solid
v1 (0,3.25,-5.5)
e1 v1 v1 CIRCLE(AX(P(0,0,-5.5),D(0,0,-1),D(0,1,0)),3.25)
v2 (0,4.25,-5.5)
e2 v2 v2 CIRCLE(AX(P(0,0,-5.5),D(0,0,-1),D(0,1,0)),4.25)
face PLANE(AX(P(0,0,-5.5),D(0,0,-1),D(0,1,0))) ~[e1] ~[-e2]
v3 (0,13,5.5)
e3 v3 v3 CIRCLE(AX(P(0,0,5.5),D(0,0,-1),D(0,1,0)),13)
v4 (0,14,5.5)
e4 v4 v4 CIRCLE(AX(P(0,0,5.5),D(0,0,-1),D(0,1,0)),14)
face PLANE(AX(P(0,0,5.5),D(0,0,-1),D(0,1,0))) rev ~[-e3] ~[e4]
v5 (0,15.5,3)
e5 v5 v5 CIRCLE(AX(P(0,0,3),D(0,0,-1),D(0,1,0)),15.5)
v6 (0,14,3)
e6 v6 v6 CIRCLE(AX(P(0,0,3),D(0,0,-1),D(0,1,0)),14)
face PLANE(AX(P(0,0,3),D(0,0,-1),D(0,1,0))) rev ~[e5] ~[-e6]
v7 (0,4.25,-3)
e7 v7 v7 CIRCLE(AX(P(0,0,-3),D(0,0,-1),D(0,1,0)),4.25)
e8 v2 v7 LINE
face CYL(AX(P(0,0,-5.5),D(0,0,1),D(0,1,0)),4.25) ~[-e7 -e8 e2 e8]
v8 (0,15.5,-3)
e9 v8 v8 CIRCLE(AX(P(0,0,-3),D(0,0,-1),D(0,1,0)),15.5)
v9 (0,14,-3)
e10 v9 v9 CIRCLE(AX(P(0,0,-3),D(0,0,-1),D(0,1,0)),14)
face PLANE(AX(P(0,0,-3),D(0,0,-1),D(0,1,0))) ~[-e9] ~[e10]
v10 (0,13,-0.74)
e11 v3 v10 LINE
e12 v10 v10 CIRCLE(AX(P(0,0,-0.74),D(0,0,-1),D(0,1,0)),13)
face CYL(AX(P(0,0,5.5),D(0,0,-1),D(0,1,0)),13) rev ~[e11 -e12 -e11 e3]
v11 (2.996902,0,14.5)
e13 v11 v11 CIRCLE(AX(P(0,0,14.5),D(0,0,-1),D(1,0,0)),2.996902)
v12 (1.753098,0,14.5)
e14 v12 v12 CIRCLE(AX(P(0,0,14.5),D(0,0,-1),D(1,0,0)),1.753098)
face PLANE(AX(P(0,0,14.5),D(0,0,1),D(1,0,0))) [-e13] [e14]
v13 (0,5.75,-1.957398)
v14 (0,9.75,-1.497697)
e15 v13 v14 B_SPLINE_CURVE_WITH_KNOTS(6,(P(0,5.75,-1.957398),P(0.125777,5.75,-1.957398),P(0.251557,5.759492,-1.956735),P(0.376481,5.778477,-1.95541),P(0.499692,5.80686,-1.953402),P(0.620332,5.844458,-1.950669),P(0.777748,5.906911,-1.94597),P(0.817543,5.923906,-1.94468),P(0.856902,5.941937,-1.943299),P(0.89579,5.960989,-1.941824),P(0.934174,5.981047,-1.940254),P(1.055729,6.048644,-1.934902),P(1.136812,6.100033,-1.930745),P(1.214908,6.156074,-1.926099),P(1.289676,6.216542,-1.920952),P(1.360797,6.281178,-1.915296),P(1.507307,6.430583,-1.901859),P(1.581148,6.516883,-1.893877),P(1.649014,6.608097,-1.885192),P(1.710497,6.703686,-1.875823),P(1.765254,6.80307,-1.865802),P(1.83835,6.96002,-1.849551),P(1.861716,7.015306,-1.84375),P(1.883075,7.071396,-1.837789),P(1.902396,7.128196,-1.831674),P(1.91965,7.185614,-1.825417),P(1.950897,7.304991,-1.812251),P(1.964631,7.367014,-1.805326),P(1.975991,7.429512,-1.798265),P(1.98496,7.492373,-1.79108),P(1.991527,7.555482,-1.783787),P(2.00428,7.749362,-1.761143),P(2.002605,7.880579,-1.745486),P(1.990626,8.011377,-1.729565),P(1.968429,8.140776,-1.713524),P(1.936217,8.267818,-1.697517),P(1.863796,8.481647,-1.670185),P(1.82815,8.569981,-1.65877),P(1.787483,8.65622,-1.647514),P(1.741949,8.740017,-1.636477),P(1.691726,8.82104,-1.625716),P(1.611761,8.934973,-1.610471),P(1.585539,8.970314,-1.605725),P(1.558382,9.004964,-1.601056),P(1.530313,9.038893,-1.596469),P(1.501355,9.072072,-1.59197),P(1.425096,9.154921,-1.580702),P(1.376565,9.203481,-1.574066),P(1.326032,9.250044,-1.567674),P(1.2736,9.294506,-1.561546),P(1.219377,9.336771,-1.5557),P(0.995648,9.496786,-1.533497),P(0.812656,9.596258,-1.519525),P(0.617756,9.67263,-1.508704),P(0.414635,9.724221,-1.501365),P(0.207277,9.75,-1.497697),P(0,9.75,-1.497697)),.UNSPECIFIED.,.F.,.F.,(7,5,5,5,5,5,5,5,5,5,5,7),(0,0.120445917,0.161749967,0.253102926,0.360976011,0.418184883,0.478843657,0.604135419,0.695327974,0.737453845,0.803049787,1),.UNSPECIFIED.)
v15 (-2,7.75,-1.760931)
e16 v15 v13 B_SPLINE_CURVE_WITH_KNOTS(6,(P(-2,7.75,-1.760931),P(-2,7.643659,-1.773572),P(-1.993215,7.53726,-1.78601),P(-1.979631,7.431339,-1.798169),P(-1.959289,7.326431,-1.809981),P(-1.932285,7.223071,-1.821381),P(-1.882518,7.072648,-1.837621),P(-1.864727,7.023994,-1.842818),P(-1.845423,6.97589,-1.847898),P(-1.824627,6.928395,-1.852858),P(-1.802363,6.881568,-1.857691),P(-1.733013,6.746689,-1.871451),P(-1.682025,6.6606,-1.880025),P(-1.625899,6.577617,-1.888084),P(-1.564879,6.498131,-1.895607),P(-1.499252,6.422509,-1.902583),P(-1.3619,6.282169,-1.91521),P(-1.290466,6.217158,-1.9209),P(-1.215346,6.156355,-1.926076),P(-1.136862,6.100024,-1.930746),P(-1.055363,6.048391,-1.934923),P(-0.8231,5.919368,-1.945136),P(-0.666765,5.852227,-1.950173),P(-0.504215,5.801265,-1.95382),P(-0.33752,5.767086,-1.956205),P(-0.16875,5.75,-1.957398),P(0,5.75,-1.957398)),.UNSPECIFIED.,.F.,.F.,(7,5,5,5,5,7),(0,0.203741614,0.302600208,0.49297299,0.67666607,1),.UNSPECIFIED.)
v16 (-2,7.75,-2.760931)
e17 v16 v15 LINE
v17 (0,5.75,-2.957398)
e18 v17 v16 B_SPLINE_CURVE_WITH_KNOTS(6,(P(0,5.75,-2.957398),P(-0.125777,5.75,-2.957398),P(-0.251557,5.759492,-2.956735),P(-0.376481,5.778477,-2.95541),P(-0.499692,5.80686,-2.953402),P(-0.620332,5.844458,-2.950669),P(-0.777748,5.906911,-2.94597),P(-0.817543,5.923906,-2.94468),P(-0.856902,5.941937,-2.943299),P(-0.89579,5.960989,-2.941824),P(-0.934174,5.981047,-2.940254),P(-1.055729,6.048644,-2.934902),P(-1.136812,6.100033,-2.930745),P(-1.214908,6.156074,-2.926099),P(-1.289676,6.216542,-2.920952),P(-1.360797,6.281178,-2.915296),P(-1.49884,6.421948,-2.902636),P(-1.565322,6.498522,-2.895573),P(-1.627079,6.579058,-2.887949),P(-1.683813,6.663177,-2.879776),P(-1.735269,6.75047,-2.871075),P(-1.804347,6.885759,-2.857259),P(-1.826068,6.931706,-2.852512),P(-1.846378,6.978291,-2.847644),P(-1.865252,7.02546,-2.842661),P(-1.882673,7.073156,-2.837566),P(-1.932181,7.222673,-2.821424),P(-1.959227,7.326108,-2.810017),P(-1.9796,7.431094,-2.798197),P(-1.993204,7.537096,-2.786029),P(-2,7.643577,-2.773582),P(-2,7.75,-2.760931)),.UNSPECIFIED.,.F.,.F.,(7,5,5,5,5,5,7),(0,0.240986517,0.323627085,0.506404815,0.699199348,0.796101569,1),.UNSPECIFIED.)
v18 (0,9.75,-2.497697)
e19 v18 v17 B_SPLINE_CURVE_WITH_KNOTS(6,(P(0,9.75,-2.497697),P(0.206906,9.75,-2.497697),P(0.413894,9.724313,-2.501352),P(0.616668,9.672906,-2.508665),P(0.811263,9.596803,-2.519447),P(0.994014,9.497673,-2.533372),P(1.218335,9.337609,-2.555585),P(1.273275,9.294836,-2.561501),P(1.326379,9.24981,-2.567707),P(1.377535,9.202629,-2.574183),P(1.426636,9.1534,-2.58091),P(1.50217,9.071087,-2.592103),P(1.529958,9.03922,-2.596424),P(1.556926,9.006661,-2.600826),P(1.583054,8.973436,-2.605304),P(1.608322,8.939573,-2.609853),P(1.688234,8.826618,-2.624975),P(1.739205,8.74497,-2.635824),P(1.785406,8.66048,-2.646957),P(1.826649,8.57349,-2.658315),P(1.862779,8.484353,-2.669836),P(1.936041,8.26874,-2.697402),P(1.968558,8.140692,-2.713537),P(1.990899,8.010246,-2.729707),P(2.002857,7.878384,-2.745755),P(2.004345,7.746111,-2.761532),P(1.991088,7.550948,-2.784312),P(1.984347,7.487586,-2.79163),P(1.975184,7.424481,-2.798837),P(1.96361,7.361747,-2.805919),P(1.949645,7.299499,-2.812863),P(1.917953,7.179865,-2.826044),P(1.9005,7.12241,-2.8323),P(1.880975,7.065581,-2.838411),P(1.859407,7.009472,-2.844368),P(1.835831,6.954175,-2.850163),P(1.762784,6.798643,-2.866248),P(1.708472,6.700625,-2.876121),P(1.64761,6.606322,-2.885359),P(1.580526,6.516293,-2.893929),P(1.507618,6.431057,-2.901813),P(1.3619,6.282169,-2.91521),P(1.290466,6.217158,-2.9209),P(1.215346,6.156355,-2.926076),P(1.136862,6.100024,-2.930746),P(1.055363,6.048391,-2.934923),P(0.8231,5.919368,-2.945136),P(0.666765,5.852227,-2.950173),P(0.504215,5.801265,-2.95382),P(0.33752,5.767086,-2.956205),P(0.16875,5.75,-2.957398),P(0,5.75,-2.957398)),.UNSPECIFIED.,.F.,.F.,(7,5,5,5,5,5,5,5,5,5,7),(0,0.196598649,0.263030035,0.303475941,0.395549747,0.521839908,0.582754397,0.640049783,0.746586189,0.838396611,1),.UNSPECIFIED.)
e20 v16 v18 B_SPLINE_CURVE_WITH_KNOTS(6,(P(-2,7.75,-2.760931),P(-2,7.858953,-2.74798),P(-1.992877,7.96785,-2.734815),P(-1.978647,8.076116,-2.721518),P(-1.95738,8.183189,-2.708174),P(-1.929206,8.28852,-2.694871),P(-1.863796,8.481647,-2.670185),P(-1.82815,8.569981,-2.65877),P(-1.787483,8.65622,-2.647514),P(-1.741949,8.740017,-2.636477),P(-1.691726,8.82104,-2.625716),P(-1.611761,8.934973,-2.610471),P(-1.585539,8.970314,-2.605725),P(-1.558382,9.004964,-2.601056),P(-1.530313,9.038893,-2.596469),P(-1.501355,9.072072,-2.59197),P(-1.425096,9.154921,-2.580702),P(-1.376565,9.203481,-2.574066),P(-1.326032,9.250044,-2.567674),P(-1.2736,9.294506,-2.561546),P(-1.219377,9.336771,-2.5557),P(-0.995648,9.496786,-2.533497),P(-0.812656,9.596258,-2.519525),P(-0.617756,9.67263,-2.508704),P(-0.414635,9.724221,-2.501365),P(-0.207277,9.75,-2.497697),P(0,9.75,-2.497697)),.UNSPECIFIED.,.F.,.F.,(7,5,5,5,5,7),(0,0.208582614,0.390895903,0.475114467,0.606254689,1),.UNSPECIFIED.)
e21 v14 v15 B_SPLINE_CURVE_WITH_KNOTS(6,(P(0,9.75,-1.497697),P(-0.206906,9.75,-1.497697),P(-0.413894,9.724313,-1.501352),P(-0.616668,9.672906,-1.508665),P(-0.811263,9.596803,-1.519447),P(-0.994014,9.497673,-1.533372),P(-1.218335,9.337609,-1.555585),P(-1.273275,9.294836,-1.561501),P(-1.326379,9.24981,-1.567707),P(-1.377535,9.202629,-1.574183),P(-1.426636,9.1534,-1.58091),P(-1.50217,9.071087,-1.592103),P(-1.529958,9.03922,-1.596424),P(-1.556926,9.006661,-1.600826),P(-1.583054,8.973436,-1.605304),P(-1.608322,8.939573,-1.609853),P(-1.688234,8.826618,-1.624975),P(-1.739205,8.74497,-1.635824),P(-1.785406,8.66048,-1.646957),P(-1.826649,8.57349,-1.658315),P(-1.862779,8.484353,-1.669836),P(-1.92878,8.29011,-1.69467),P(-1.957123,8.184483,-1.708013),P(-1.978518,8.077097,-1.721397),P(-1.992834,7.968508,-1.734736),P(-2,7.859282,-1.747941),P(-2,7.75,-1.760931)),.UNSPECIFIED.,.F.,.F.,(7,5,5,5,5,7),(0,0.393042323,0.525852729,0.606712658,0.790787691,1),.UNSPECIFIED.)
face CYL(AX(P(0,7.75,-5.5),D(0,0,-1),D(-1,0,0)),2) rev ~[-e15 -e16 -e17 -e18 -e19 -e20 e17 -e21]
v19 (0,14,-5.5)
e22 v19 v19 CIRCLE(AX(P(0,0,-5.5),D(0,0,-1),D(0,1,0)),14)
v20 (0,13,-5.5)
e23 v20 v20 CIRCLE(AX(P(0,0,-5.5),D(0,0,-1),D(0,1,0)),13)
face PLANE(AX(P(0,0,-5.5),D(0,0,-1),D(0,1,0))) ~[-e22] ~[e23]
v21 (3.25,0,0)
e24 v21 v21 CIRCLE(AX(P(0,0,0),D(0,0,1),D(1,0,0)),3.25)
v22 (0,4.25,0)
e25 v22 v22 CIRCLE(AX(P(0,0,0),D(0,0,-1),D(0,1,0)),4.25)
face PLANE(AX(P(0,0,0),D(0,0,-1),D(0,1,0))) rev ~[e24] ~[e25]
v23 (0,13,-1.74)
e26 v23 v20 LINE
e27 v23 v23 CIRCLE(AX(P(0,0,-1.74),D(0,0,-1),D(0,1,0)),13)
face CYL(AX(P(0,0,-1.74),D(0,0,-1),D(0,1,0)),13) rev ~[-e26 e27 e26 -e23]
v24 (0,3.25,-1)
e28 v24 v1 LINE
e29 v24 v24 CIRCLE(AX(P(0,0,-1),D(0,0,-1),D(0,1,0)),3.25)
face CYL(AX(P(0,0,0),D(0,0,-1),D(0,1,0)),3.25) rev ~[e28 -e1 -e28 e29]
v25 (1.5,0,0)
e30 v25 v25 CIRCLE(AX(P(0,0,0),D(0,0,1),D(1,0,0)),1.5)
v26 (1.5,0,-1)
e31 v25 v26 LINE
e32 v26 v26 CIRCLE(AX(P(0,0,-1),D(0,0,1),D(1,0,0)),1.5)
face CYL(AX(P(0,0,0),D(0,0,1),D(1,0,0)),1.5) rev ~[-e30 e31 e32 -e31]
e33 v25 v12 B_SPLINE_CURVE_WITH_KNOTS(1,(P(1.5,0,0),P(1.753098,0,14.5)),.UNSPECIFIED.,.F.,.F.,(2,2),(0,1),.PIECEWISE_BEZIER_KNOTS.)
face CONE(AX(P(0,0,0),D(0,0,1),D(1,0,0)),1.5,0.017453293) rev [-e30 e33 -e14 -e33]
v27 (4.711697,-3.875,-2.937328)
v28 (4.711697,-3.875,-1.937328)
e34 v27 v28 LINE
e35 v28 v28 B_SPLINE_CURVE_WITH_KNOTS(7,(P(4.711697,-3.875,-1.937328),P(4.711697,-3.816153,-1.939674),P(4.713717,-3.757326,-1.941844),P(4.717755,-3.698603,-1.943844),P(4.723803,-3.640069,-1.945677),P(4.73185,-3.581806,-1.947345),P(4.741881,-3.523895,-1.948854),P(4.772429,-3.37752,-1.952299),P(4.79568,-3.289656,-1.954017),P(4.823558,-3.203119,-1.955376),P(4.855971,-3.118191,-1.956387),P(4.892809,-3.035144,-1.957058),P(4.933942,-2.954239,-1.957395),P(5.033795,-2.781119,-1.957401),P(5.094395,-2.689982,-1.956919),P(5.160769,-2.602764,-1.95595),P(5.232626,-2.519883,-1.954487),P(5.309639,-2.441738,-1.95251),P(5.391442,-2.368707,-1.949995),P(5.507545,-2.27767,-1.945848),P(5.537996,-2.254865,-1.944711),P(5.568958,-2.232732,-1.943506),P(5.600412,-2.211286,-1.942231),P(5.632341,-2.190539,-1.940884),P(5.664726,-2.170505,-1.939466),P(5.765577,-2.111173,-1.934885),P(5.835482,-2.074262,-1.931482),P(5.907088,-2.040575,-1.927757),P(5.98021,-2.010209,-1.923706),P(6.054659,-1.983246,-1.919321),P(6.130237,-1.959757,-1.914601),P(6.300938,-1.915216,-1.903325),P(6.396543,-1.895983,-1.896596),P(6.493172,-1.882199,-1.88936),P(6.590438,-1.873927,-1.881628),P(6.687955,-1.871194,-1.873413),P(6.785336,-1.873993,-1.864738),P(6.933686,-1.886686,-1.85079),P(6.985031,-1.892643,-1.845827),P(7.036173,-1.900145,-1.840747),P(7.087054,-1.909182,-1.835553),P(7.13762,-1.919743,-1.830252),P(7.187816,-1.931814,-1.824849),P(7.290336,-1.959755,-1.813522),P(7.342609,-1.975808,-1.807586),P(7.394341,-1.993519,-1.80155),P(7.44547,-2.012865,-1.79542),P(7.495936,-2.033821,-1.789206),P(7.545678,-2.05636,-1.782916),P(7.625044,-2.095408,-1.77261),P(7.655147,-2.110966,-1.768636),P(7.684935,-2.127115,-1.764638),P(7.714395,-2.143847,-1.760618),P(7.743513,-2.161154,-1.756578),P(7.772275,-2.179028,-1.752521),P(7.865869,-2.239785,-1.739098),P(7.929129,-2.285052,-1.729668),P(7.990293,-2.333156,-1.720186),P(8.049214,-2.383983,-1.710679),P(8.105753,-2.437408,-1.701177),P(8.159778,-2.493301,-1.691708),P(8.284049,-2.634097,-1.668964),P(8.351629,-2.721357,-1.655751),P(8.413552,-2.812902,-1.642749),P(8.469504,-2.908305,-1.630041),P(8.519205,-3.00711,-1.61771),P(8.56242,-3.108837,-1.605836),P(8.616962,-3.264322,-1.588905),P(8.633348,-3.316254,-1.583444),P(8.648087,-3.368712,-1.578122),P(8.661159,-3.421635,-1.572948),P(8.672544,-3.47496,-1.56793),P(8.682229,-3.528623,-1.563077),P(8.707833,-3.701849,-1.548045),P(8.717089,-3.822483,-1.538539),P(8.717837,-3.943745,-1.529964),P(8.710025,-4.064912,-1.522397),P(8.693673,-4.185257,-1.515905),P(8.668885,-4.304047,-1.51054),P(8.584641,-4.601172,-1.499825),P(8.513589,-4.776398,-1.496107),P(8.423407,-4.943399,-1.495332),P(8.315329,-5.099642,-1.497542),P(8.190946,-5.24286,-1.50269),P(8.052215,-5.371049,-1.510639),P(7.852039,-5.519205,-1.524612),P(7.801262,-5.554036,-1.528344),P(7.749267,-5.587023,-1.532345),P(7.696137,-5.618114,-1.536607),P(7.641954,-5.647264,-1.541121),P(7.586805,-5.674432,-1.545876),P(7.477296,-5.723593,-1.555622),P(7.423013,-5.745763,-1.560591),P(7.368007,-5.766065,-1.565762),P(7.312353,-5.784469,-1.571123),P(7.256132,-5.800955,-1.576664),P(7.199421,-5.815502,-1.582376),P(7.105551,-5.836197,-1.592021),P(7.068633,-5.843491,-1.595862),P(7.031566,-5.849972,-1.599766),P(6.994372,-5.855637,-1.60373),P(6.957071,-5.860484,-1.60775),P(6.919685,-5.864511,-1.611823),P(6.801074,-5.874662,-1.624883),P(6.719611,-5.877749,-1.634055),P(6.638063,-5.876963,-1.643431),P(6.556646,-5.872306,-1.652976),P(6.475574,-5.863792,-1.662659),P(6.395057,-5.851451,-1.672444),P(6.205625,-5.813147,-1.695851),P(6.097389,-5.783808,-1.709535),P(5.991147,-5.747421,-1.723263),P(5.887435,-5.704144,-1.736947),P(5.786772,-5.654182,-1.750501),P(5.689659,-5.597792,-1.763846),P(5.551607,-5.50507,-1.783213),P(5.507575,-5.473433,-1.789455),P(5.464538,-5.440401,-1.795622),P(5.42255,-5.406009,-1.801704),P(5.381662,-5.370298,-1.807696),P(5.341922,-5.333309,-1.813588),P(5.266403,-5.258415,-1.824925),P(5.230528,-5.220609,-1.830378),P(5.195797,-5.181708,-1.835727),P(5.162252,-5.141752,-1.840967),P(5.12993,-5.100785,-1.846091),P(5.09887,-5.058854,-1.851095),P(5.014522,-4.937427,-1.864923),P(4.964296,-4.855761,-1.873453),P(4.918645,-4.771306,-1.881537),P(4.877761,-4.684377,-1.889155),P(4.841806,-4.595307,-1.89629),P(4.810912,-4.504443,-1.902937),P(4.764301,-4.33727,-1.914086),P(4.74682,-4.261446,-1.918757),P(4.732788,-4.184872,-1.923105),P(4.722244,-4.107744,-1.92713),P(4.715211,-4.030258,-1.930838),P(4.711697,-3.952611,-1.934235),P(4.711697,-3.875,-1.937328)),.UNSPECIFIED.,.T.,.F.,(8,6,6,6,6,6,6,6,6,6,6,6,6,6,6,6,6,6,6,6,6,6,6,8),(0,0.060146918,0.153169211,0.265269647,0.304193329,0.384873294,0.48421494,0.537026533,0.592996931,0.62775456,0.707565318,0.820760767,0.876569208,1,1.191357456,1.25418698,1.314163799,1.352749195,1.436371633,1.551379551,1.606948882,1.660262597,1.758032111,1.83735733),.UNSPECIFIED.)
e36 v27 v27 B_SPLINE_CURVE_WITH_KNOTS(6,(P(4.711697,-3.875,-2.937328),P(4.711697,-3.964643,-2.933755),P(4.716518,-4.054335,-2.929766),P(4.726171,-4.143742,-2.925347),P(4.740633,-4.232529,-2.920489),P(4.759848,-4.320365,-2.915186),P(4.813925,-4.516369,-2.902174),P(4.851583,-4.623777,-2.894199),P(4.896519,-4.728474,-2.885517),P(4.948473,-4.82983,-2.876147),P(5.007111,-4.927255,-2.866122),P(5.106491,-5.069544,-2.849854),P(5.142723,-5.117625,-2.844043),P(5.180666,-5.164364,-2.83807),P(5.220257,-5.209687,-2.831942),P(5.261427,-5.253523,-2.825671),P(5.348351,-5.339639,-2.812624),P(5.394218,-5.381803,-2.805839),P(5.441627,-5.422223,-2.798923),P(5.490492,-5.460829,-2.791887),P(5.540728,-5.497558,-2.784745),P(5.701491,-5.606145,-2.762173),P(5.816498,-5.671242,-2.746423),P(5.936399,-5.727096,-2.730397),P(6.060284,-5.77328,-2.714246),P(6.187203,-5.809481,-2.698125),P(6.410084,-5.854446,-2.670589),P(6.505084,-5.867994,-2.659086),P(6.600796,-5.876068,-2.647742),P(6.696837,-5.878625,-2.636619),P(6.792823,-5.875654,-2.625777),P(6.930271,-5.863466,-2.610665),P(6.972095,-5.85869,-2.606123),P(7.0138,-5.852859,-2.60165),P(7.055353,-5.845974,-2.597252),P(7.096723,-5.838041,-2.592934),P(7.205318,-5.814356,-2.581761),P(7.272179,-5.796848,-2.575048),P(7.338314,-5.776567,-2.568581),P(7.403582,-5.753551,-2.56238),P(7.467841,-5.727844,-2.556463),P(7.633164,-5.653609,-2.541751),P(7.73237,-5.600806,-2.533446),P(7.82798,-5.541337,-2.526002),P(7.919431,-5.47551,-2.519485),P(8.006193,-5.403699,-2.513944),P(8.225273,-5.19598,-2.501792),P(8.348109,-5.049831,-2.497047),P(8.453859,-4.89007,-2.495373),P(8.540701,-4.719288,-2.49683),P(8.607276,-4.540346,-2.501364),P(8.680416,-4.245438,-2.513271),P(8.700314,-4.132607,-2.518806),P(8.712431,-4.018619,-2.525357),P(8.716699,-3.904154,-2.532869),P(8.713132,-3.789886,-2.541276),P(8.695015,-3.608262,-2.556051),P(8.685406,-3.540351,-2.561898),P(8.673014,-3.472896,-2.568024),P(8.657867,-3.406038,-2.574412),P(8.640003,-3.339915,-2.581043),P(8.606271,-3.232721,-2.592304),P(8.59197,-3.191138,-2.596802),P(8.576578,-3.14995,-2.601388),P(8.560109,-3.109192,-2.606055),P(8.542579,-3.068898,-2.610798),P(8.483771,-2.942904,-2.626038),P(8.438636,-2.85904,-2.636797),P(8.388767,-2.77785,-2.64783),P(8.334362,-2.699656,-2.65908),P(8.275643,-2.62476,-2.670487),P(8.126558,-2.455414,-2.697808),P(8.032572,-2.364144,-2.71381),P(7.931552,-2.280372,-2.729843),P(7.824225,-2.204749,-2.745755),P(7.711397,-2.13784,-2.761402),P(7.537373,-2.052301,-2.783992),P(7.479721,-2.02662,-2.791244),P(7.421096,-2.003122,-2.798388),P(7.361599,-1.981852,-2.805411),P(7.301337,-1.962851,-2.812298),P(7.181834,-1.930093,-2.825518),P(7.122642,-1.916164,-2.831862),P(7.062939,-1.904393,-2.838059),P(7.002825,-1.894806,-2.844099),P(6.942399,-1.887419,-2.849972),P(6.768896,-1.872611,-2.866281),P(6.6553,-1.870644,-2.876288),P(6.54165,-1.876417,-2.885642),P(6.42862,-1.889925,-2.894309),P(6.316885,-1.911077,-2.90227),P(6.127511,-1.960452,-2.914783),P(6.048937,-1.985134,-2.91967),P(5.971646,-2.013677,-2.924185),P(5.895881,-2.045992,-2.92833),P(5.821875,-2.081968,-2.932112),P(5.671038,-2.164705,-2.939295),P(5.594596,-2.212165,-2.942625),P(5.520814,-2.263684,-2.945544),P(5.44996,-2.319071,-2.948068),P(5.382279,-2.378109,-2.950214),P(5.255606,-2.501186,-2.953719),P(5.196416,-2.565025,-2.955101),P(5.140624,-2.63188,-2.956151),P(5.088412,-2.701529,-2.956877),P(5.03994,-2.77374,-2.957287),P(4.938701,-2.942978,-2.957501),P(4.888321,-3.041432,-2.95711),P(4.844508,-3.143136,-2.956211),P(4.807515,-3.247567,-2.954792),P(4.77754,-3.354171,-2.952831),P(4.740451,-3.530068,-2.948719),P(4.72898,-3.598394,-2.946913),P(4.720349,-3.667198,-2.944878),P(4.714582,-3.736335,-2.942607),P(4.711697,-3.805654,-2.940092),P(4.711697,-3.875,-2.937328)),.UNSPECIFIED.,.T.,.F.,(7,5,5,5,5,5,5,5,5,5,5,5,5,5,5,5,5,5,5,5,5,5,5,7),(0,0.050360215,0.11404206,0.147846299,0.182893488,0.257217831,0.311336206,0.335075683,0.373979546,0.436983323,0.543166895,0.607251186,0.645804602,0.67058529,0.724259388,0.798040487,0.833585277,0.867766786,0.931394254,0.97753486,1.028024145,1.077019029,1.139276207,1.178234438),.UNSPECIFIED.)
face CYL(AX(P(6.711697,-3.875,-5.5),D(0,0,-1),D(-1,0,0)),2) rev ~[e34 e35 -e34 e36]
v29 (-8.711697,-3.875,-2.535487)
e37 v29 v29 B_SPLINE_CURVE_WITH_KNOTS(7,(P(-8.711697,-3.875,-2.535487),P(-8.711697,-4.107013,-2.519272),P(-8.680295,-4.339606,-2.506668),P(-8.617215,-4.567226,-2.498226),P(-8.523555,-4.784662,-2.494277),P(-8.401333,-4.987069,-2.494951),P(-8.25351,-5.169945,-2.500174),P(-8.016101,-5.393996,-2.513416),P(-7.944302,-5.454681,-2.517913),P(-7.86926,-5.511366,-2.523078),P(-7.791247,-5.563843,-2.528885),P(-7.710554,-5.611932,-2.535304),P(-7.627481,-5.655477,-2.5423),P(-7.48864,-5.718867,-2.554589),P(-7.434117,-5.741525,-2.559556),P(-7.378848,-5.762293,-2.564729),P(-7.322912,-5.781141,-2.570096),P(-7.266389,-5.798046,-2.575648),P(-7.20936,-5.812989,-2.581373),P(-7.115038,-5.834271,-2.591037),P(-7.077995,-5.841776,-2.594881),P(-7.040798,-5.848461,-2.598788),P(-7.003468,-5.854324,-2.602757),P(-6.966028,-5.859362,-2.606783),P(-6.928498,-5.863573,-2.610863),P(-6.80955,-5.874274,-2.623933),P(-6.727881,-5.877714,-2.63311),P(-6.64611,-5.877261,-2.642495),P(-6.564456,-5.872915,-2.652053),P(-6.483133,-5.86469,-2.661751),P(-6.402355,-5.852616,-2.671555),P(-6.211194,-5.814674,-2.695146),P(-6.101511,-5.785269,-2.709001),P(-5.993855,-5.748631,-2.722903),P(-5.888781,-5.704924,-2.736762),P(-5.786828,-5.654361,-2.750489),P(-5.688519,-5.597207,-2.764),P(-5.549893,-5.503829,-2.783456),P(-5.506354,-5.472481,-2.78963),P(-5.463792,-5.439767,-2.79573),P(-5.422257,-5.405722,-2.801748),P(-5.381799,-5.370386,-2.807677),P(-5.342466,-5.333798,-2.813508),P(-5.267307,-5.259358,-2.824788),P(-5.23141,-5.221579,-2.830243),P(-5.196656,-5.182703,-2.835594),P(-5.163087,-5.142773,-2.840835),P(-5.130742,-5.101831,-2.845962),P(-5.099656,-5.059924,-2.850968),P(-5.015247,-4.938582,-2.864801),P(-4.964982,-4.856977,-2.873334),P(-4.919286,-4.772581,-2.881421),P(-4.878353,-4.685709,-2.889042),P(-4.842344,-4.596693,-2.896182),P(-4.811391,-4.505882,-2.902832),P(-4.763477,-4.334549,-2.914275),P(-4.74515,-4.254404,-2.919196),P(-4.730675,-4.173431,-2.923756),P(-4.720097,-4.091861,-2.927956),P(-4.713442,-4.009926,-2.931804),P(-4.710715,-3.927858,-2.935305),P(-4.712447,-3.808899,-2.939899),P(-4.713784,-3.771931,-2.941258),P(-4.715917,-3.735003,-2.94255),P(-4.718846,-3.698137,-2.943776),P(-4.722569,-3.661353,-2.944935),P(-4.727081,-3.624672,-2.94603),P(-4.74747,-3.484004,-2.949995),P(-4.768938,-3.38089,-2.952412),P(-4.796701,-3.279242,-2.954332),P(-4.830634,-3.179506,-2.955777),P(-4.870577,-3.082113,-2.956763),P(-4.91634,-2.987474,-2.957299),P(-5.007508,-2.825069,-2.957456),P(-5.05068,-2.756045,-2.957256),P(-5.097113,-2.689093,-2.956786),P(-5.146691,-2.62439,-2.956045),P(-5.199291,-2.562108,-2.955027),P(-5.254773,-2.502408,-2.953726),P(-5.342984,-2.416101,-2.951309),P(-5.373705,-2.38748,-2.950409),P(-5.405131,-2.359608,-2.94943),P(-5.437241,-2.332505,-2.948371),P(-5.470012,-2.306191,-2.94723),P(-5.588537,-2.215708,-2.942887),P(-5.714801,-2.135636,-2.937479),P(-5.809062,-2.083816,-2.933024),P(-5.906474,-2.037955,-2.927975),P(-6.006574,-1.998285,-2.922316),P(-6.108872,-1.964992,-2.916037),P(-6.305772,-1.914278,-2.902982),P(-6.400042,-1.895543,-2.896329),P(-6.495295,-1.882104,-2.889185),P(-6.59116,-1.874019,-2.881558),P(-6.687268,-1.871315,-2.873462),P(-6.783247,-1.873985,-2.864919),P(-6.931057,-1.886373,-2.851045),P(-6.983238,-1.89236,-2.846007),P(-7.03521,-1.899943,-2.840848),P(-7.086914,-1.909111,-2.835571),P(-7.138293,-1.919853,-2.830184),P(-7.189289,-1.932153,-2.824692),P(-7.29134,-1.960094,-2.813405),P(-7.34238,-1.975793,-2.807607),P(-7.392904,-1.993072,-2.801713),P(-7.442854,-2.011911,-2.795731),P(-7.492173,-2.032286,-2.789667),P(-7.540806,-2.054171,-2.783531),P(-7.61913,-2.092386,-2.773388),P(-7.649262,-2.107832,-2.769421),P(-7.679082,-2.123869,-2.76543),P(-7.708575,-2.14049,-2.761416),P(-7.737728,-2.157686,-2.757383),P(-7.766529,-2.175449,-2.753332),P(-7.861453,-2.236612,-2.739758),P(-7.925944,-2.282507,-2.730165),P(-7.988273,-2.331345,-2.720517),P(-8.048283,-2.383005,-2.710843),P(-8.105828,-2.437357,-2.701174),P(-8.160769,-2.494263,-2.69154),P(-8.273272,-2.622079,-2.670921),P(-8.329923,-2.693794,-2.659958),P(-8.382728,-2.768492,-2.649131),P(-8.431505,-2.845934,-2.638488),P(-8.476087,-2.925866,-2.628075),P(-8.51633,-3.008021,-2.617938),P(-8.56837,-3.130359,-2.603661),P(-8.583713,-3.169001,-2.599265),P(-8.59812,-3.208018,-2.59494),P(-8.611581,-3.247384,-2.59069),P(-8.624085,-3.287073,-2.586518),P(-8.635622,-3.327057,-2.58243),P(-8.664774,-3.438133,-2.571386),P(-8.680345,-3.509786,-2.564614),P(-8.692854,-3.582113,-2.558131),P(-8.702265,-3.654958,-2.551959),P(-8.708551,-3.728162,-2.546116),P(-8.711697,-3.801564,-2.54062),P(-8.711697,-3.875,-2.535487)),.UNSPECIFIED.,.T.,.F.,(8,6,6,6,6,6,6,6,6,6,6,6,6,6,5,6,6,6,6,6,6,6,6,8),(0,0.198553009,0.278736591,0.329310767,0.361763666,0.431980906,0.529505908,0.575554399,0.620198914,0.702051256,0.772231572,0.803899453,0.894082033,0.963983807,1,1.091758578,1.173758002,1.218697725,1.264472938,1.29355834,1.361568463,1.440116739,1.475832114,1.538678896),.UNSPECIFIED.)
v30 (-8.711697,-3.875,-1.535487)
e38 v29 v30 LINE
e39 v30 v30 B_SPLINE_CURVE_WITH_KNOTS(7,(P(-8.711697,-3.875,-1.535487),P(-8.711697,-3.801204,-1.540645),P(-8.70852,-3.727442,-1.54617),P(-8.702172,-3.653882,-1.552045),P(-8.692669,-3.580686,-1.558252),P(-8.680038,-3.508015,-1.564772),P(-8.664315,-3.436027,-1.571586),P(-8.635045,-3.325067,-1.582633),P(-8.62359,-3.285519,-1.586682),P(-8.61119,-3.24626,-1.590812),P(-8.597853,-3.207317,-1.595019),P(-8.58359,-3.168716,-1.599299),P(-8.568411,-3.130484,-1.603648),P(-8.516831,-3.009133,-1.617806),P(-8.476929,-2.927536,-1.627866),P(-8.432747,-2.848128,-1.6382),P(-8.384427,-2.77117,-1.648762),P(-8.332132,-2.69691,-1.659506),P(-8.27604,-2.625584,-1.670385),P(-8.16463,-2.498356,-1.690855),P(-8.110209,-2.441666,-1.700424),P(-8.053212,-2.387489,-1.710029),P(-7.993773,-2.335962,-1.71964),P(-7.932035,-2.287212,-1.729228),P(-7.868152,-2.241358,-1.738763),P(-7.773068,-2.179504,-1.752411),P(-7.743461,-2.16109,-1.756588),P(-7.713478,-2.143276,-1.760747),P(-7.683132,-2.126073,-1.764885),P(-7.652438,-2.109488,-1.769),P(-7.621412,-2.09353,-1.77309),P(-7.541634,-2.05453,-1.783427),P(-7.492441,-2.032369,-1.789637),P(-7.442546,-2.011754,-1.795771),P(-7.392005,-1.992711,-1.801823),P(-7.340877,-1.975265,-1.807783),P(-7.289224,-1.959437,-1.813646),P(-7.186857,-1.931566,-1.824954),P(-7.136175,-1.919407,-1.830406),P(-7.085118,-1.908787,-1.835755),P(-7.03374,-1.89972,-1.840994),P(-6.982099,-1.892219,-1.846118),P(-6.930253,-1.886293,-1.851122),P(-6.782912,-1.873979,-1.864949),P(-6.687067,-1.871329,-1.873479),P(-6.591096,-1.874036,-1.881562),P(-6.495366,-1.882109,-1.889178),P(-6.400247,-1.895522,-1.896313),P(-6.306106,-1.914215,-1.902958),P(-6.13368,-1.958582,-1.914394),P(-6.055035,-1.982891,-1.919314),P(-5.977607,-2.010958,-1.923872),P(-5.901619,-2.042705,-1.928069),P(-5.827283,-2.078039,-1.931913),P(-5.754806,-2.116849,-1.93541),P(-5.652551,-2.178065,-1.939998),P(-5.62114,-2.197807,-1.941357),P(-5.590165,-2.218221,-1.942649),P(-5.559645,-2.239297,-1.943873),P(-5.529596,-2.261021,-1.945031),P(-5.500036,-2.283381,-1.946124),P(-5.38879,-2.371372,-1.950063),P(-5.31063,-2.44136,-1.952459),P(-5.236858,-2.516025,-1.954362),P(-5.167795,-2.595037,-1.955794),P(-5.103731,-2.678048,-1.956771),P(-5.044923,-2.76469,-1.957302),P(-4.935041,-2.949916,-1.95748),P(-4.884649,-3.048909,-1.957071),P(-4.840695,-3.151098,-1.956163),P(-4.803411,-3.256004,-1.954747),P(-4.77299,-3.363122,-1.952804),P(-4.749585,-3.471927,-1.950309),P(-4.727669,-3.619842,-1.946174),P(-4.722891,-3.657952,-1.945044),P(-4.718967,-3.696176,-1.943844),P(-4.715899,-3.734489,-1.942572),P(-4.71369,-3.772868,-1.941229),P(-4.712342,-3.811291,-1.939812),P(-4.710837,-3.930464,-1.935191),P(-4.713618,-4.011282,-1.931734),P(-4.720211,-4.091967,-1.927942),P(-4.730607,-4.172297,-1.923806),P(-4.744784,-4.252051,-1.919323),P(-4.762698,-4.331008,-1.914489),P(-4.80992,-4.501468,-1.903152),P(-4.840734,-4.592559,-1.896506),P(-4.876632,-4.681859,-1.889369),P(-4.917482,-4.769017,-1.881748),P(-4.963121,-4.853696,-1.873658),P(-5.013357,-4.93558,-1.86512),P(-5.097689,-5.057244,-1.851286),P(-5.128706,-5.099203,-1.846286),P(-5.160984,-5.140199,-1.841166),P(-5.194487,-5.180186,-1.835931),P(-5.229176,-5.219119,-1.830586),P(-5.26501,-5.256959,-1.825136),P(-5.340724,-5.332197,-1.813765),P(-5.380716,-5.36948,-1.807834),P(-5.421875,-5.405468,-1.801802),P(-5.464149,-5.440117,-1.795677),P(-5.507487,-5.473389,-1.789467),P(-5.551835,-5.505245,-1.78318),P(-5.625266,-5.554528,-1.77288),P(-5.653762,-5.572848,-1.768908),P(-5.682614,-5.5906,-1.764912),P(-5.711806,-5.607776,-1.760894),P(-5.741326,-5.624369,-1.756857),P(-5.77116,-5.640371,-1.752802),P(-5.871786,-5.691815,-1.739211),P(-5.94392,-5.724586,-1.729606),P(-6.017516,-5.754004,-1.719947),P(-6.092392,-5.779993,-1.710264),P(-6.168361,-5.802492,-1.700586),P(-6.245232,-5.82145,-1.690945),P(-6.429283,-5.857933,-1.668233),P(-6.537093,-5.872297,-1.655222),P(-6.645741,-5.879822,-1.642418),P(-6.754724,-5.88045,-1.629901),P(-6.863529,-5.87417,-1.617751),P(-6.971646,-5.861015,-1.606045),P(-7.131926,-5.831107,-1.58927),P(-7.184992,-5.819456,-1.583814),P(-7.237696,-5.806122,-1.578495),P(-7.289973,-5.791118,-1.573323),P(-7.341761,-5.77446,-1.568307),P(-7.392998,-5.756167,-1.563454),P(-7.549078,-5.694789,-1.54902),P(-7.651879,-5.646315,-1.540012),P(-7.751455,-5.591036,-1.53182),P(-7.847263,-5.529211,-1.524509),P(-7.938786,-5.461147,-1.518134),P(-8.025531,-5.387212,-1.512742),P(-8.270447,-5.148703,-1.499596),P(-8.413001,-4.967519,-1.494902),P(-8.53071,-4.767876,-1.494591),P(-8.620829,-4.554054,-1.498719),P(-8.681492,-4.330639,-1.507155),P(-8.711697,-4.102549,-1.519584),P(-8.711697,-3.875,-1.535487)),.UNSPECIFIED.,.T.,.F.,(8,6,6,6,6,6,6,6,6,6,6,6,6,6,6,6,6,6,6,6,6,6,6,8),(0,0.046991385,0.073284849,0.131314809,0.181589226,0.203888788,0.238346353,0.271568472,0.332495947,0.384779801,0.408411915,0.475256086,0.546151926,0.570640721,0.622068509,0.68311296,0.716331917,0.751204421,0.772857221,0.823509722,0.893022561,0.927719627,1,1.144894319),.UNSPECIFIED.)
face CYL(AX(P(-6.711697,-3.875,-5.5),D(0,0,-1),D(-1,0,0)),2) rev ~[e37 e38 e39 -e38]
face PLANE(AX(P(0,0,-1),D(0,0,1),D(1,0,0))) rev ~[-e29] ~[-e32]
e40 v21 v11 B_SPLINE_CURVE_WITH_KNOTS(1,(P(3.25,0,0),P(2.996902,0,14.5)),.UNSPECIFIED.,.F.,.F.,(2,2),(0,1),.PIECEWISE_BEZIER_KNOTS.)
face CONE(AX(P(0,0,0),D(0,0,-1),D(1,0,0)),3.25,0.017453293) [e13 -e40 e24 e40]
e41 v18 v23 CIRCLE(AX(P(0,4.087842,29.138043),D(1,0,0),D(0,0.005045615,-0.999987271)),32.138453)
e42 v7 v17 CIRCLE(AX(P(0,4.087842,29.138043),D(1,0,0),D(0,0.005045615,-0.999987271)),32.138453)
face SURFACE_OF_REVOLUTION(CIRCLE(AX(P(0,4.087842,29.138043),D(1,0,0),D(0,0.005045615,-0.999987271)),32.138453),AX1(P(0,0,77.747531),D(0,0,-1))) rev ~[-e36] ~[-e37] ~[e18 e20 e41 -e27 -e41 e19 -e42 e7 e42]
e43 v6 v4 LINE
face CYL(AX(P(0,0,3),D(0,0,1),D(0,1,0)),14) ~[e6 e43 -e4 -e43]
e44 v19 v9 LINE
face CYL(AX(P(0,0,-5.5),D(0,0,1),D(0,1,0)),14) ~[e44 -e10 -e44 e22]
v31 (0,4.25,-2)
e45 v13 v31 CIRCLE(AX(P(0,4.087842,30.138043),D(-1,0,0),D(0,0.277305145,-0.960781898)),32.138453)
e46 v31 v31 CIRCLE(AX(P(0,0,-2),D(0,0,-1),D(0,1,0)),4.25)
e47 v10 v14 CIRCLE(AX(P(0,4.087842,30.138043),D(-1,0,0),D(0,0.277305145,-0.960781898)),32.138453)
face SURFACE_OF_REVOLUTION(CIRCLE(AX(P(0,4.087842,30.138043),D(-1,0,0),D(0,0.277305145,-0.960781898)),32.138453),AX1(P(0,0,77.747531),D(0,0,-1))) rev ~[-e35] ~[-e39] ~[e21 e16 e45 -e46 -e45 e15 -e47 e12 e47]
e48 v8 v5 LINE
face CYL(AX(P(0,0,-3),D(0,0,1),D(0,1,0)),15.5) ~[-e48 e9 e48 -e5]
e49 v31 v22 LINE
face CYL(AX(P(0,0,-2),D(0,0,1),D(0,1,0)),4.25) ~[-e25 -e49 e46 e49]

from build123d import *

# Parameters (mm, degrees)
SKETCH4_R                     = 3.25
SKETCH4_R_2                   = 1.5
BOSS_EXTRUDE1_DEPTH           = 14.5
BOSS_EXTRUDE1_TAPER           = 1
BOSS_EXTRUDE1_OTHER_WAY_DEPTH = 1
SKETCH5_R                     = 2
CUT_EXTRUDE1_DEPTH            = 14.5


with BuildPart() as part:
    # Sketch3 → Revolve1 (revolve)
    with BuildSketch(Plane(origin=(0, 0, 0), x_dir=(0, 0, -1), z_dir=(1, 0, 0))):
        with BuildLine():
            Line((-5.5, 13), (0.74, 13))
            ThreePointArc((0.74, 13), (1.672291774, 8.668530015), (2, 4.25))
            Line((2, 4.25), (0, 4.25))
            Line((0, 4.25), (0, 3.25))
            Line((0, 3.25), (5.5, 3.25))
            Line((5.5, 3.25), (5.5, 4.25))
            Line((5.5, 4.25), (3, 4.25))
            ThreePointArc((3, 4.25), (2.672291774, 8.668530015), (1.74, 13))
            Line((1.74, 13), (5.5, 13))
            Line((5.5, 13), (5.5, 14))
            Line((5.5, 14), (3, 14))
            Line((3, 14), (3, 15.5))
            Line((3, 15.5), (-3, 15.5))
            Line((-3, 15.5), (-3, 14))
            Line((-3, 14), (-5.5, 14))
            Line((-5.5, 14), (-5.5, 13))
        make_face()
    revolve(axis=Axis((0, 0, 77.747530796), (0, 0, -1)))

    # Sketch4 → Boss-Extrude1 (add)
    with BuildSketch(Plane.XY):
        Circle(SKETCH4_R)
        Circle(SKETCH4_R_2, mode=Mode.SUBTRACT)
    extrude(amount=BOSS_EXTRUDE1_DEPTH, taper=BOSS_EXTRUDE1_TAPER)

    # Sketch4 → Boss-Extrude1 other way (add)
    with BuildSketch(Plane.XY):
        Circle(SKETCH4_R)
        Circle(SKETCH4_R_2, mode=Mode.SUBTRACT)
    extrude(amount=-BOSS_EXTRUDE1_OTHER_WAY_DEPTH)

    # Sketch5 → Cut-Extrude1 (cut)
    with BuildSketch(Plane(origin=(0, 0, -5.5), x_dir=(-1, 0, 0), z_dir=(0, 0, -1))):
        with Locations((0, 7.75)):
            Circle(SKETCH5_R)
        with Locations((6.711696879, -3.875)):
            Circle(SKETCH5_R)
        with Locations((-6.711696879, -3.875)):
            Circle(SKETCH5_R)
    extrude(amount=-CUT_EXTRUDE1_DEPTH, mode=Mode.SUBTRACT)


solid = part.part
